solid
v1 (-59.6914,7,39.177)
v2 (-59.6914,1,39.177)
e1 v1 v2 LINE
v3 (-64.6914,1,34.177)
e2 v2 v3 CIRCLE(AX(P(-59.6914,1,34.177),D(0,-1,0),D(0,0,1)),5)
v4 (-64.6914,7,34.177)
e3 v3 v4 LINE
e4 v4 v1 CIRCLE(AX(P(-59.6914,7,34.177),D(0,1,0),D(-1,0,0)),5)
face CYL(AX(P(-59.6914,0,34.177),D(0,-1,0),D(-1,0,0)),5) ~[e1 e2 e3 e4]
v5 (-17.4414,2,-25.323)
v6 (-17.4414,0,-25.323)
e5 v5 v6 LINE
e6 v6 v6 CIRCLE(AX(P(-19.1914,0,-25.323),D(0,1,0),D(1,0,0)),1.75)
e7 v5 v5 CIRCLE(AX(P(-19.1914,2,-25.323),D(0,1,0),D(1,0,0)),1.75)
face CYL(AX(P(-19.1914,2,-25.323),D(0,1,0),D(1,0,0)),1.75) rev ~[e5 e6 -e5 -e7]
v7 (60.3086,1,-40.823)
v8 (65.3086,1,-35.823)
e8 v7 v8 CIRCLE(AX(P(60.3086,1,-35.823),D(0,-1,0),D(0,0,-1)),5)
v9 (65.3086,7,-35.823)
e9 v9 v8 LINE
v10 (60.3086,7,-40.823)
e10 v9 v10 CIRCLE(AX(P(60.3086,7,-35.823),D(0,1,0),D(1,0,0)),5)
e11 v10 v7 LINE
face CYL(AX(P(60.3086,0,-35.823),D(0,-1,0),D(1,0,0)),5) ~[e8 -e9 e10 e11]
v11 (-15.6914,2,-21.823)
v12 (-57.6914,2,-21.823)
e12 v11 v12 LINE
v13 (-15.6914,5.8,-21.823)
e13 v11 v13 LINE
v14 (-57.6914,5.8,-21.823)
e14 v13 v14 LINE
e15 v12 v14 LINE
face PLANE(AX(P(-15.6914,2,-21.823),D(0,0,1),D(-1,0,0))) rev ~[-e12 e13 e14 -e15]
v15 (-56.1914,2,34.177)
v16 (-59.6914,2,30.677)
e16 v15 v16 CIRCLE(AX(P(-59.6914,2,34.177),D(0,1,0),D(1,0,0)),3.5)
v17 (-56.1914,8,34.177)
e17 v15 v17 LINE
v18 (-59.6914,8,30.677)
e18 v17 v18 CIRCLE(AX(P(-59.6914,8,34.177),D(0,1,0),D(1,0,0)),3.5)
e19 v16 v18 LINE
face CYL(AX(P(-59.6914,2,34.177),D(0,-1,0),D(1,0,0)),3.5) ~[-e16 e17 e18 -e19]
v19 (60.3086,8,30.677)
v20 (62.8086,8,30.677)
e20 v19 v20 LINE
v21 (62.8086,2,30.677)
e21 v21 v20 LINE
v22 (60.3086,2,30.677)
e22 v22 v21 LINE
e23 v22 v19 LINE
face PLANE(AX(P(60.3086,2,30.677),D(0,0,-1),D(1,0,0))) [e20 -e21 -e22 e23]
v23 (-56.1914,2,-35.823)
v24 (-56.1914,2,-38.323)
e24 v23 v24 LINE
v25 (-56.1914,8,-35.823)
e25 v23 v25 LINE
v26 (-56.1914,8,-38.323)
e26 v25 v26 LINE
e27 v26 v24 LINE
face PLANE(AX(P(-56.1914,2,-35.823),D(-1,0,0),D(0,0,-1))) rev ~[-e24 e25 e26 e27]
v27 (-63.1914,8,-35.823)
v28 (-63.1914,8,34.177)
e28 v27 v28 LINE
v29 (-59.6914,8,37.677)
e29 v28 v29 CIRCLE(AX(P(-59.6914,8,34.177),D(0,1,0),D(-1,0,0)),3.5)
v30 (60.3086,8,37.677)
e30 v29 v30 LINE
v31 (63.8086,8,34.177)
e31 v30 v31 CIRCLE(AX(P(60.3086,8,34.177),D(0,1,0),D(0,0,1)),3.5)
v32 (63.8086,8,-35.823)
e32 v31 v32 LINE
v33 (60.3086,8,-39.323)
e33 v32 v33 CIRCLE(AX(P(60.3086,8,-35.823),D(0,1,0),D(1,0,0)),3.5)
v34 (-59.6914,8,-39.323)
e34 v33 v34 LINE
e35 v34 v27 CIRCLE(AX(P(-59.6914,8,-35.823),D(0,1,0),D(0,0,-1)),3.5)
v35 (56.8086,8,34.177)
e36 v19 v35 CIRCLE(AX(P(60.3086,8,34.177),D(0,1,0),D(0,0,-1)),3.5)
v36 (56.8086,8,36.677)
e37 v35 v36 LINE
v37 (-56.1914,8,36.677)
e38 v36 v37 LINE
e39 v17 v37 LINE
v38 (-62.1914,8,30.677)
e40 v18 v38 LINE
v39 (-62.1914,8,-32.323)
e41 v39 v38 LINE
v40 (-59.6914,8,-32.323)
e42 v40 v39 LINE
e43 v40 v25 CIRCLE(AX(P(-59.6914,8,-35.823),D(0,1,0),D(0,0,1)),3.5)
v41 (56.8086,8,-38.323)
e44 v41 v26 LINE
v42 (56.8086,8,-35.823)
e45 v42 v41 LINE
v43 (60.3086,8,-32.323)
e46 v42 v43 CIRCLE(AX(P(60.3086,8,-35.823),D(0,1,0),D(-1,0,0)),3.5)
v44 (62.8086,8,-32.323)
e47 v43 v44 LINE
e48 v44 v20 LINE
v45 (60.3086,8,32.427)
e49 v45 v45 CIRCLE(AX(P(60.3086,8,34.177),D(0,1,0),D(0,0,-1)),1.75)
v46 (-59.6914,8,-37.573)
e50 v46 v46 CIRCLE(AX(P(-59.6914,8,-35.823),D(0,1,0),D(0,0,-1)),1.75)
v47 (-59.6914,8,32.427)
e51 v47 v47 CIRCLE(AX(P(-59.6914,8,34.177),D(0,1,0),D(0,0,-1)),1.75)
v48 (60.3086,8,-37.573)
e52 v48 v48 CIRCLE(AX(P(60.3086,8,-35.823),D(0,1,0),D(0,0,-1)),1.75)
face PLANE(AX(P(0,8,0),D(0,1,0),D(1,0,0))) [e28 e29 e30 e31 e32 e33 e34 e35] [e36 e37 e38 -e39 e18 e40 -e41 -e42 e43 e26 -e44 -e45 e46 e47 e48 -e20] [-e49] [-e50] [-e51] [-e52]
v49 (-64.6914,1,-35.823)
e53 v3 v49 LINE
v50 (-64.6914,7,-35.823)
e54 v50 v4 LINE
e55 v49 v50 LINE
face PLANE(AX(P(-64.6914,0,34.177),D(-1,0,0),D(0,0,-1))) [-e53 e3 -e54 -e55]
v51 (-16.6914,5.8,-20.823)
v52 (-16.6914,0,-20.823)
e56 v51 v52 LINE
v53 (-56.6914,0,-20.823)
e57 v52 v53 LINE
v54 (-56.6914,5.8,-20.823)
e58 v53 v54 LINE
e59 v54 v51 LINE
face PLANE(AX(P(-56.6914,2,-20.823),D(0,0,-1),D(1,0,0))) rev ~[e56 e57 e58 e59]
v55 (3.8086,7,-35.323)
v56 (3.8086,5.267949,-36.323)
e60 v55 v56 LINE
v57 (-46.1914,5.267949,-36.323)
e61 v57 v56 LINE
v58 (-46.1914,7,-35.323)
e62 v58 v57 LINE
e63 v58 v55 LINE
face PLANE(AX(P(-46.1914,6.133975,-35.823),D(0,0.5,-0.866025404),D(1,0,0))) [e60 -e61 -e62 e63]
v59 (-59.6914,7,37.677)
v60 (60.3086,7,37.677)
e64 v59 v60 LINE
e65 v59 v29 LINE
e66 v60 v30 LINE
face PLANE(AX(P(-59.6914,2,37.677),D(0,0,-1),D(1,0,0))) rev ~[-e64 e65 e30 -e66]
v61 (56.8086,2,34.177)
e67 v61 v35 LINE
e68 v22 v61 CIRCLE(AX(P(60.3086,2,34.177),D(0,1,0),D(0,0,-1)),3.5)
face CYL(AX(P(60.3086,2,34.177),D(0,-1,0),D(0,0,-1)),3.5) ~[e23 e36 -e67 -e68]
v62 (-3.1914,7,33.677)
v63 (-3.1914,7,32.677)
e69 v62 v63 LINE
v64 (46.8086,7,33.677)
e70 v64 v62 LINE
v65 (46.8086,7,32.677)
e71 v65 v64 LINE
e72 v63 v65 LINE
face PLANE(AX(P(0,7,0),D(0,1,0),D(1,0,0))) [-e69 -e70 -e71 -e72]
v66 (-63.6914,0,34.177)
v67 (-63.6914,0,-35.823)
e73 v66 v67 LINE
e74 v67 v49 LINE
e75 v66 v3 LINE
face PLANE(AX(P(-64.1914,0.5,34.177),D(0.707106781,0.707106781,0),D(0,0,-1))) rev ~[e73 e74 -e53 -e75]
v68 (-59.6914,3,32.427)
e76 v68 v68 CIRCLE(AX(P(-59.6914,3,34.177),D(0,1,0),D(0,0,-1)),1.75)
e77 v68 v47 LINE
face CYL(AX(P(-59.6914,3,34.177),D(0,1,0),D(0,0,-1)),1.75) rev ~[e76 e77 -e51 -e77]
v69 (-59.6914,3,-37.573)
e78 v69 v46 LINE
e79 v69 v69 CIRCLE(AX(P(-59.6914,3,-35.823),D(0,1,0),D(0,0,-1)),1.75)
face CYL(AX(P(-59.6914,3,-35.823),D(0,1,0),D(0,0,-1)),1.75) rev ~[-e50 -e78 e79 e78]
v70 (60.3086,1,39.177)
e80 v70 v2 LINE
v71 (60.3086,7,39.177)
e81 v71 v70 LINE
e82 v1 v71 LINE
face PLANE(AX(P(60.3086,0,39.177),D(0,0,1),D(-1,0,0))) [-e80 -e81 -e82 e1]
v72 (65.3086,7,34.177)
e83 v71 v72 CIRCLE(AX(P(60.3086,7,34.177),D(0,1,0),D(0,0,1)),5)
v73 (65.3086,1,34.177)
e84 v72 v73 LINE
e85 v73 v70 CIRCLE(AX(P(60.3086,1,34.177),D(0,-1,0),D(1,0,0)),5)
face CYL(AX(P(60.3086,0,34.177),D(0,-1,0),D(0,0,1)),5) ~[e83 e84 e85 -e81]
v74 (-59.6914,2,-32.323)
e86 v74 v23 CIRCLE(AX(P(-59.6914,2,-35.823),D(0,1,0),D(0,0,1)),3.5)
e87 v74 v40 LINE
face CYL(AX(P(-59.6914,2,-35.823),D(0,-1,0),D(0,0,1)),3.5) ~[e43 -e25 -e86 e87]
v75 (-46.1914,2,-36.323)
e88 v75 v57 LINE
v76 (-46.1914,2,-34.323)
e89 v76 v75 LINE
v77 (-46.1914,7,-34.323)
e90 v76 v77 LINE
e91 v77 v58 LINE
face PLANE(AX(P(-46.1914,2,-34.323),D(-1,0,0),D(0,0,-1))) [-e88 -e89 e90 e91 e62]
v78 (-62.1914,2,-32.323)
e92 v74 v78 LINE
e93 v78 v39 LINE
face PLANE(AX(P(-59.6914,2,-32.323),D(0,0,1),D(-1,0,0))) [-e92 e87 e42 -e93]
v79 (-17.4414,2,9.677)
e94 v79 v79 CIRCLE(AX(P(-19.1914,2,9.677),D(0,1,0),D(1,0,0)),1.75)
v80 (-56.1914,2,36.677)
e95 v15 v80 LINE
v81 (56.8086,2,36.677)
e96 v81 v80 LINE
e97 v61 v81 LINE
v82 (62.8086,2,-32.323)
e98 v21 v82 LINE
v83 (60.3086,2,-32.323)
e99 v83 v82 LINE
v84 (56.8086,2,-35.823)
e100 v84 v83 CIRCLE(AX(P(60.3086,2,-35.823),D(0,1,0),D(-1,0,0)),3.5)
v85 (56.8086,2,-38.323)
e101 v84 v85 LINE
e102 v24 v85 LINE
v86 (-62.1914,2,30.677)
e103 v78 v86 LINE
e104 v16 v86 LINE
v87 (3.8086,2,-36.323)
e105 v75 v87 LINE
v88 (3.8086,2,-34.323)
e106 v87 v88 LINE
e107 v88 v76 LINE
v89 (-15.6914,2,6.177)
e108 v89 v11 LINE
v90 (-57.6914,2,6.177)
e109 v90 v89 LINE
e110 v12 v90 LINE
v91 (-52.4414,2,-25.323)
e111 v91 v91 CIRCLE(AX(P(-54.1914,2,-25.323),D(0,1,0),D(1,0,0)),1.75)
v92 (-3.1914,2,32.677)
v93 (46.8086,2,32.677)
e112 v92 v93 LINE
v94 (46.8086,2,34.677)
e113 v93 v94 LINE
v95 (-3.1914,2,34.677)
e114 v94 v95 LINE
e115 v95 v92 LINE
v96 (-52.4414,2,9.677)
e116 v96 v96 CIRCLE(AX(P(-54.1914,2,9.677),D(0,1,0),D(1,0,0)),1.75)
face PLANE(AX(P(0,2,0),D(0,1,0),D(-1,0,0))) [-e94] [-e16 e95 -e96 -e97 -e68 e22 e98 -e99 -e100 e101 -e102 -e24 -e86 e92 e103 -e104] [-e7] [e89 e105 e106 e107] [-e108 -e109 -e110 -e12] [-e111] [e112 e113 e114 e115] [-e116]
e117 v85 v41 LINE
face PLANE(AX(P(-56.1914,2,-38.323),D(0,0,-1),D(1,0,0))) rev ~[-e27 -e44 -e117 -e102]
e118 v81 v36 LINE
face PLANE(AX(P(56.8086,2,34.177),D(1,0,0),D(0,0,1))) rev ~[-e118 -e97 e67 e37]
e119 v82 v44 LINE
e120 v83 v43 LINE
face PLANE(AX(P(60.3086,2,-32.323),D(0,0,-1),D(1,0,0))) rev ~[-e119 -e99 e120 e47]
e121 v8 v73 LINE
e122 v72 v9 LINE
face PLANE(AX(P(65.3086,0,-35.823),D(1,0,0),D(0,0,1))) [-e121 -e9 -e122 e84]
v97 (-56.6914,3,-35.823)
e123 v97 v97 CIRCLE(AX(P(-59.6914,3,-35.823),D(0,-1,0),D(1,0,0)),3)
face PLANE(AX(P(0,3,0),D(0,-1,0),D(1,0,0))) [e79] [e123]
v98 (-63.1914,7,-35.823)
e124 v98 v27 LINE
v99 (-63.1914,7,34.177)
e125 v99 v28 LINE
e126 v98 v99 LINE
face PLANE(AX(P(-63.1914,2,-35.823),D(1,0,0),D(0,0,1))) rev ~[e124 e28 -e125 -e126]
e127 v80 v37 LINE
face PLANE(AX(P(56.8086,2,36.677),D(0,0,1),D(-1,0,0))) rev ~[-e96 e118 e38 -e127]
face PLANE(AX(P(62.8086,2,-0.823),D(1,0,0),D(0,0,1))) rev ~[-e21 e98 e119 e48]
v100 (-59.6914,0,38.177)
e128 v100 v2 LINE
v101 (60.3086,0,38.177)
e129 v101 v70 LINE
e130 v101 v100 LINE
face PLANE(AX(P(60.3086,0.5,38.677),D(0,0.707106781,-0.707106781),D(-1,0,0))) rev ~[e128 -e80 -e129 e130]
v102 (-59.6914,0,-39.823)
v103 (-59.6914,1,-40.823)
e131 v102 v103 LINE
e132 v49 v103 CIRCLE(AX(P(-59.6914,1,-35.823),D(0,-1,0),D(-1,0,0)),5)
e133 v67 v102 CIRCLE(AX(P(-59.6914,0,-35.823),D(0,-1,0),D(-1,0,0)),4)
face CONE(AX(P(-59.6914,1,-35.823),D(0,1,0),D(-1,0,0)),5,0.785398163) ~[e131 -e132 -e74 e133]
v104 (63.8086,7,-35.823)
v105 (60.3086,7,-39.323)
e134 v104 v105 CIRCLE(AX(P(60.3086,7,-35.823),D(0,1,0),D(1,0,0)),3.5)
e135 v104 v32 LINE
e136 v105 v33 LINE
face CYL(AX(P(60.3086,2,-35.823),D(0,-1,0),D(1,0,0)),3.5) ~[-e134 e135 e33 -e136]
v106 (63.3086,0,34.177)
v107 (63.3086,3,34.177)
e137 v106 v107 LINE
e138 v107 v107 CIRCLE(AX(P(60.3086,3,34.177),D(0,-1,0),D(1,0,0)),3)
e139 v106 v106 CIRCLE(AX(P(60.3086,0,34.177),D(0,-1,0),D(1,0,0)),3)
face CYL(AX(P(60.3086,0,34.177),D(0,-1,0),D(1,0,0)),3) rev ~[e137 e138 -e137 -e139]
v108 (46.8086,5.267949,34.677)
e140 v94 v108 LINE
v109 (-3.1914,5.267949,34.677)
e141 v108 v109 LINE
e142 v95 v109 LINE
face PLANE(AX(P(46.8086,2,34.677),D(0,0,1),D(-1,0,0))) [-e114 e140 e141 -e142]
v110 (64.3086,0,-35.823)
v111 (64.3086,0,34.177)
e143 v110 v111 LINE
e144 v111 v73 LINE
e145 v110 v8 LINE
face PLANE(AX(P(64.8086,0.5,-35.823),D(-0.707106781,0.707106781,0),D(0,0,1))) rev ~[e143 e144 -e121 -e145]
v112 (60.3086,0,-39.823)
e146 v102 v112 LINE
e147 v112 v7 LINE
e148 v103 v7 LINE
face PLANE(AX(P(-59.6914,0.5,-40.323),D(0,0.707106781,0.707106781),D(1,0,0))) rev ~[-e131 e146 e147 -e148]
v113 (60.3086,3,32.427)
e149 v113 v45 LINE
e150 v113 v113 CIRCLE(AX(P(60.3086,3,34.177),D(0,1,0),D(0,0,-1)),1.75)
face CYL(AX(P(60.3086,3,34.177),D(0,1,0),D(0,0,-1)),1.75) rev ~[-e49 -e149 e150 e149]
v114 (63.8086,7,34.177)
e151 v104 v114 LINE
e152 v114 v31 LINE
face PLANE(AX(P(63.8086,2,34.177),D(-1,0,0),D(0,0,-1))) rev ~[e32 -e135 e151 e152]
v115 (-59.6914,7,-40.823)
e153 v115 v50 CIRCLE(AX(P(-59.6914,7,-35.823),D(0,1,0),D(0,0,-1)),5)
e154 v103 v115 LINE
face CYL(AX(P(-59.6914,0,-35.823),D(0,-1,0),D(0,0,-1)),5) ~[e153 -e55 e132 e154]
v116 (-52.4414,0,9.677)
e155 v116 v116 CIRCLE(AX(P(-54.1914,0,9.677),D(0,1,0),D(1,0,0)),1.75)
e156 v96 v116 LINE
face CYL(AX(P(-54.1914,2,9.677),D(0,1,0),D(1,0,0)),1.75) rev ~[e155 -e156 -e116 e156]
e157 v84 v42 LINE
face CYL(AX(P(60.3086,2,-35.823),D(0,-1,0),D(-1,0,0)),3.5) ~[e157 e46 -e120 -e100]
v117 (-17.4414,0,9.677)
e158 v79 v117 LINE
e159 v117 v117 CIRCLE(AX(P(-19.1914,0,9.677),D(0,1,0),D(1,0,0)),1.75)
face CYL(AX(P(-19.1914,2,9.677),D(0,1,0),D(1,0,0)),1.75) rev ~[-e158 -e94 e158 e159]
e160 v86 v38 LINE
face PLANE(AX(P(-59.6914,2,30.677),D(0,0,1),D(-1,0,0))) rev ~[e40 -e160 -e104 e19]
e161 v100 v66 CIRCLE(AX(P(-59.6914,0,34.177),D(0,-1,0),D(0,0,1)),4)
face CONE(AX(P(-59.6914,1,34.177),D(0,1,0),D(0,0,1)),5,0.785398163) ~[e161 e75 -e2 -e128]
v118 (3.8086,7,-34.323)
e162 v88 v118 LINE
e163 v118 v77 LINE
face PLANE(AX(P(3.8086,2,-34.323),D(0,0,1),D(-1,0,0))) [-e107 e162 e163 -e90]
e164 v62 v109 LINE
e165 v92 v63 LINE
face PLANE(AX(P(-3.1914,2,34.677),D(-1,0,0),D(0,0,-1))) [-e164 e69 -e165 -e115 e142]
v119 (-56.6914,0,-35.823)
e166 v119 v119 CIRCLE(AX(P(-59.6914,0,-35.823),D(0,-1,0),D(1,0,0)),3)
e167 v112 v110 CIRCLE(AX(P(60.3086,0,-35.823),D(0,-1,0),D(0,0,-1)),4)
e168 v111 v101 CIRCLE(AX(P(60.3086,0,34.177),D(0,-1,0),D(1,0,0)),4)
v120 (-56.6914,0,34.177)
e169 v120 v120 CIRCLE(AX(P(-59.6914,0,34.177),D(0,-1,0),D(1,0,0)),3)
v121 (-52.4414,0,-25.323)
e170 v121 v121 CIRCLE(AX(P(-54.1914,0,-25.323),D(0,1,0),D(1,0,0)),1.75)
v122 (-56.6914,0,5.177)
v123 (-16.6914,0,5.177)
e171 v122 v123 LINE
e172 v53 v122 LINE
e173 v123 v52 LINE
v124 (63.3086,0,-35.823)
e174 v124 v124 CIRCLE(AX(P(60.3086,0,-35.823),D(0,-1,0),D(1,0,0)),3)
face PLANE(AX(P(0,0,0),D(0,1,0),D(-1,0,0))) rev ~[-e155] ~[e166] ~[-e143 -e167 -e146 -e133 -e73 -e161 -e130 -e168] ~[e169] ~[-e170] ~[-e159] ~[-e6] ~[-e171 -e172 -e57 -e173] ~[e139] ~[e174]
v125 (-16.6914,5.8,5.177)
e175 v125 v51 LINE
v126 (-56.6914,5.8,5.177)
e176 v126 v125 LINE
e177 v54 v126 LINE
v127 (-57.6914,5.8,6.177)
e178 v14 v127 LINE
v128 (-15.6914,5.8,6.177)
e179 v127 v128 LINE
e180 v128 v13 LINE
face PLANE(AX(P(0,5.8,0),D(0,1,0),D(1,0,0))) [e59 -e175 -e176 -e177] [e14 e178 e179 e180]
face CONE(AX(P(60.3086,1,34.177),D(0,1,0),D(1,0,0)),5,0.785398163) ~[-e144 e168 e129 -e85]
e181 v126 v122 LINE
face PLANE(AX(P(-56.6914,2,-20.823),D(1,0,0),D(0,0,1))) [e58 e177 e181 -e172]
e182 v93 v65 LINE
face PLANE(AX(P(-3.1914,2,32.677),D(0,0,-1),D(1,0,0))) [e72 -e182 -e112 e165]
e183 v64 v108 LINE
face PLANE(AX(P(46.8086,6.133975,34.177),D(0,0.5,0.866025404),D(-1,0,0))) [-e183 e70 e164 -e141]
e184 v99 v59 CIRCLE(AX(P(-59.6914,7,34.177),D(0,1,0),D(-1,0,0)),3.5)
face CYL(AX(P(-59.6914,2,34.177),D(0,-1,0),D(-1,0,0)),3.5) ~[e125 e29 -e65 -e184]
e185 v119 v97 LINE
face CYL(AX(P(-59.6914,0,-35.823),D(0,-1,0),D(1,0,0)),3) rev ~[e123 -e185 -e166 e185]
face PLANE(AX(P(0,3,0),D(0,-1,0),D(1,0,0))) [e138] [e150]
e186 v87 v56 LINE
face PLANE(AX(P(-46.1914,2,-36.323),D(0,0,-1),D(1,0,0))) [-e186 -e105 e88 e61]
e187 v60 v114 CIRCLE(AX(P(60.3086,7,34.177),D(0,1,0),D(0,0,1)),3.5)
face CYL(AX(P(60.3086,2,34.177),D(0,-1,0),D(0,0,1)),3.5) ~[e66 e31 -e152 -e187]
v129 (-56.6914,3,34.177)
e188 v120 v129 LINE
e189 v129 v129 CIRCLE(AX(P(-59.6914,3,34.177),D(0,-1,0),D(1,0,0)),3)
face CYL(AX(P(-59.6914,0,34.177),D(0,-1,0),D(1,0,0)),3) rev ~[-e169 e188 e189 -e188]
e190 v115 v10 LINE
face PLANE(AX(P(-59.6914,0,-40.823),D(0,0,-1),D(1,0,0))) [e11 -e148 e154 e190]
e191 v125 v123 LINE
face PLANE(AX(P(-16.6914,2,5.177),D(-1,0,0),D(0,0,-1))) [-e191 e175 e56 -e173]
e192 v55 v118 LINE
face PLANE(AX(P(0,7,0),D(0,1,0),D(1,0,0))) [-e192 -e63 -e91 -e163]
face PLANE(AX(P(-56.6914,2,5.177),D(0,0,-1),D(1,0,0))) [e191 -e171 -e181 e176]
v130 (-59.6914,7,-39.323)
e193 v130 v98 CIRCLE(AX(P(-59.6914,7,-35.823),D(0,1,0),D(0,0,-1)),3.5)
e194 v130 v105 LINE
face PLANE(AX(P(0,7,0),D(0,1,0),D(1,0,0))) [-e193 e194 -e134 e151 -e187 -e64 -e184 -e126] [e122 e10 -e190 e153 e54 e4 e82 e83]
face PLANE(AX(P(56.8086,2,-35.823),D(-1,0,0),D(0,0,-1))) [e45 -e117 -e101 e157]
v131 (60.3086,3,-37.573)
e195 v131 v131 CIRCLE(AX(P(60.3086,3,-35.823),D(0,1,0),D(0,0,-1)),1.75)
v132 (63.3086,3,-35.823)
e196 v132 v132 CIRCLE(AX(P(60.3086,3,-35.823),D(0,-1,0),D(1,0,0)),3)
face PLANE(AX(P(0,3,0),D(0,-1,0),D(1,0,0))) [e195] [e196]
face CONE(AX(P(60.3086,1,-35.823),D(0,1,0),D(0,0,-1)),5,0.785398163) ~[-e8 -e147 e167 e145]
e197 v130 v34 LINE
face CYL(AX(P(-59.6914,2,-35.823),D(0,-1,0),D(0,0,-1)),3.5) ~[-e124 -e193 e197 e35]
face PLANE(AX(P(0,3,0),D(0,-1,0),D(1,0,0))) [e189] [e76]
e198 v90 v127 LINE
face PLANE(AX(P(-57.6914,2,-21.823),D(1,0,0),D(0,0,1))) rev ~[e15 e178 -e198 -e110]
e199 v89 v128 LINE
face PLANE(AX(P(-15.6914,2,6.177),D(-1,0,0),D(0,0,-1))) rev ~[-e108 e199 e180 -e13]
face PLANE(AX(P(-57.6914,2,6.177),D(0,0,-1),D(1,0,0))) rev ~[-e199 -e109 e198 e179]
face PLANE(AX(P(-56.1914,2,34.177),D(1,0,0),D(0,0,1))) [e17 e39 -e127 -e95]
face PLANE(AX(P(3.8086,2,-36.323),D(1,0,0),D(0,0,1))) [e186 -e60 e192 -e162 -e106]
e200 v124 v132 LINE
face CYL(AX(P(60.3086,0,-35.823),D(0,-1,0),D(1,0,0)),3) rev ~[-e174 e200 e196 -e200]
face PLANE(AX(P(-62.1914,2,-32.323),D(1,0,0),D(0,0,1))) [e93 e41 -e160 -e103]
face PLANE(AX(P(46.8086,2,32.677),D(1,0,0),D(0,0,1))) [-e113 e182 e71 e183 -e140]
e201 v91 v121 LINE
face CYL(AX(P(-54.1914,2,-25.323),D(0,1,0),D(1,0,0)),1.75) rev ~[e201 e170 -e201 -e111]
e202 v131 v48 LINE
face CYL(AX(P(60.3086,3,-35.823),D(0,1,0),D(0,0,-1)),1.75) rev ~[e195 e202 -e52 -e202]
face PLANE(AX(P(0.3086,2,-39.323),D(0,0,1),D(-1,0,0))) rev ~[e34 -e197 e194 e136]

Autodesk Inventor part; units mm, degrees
ref_plane "YZ Plane" through (0, 0, 0) normal (1, 0, 0) x (0, 1, 0)
ref_plane "XZ Plane" through (0, 0, 0) normal (0, 1, 0) x (-1, 0, 0)
ref_plane "XY Plane" through (0, 0, 0) normal (0, 0, 1) x (1, 0, 0)
sketch "Sketch1" plane through (0, 0, 0) normal (0, 1, 0) x (-1, 0, 0)
  line L0 (59.6914, -40.823) -> (-60.3086, -40.823)
  line L1 (-65.3086, -35.823) -> (-65.3086, 34.177)
  line L2 (-60.3086, 39.177) -> (59.6914, 39.177)
  line L3 (64.6914, 34.177) -> (64.6914, -35.823)
  arc A0 (59.6914, -40.823) -> (64.6914, -35.823) centre (59.6914, -35.823) ccw
  arc A1 (-65.3086, -35.823) -> (-60.3086, -40.823) centre (-60.3086, -35.823) ccw
  arc A2 (64.6914, 34.177) -> (59.6914, 39.177) centre (59.6914, 34.177) ccw
  arc A3 (-60.3086, 39.177) -> (-65.3086, 34.177) centre (-60.3086, 34.177) ccw
  point P0 (0, 0)
  point P1 (64.6914, -40.823)
  point P2 (-65.3086, 39.177)
  point P3 (64.6914, 39.177)
  dimension "d0" = 80
  dimension "d1" = 130
  dimension "d2" = 5
  dimension "d3" = 5
  dimension "d4" = 5
  dimension "d5" = 5
extrude "Extrusion1" add sketch "Sketch1" along normal blind 2
sketch "Sketch2" plane through (0, 2, 0) normal (0, 1, 0) x (1, 0, 0)
  line L0 (-64.6914, 35.823) -> (-64.6914, -34.177) projected
  line L1 (-64.6914, 35.823) -> (-64.6914, -34.177)
  arc A0 (-64.6914, -34.177) -> (-59.6914, -39.177) centre (-59.6914, -34.177) ccw projected
  arc A1 (-64.6914, -34.177) -> (-59.6914, -39.177) centre (-59.6914, -34.177) ccw
  arc A2 (-59.6914, 40.823) -> (-64.6914, 35.823) centre (-59.6914, 35.823) ccw
  arc A3 (65.3086, 35.823) -> (60.3086, 40.823) centre (60.3086, 35.823) ccw projected
  arc A4 (65.3086, 35.823) -> (60.3086, 40.823) centre (60.3086, 35.823) ccw
  line L2 (-62.1914, 35.823) -> (-62.1914, -34.177)
  line L3 (65.3086, -34.177) -> (65.3086, 35.823) projected
  line L4 (65.3086, 35.823) -> (65.3086, -34.177)
  arc A5 (60.3086, -39.177) -> (65.3086, -34.177) centre (60.3086, -34.177) ccw projected
  line L5 (-59.6914, -39.177) -> (60.3086, -39.177) projected
  line L6 (60.3086, -39.177) -> (-59.6914, -39.177)
  line L7 (60.3086, 40.823) -> (-59.6914, 40.823) projected
  line L8 (-59.6914, 40.823) -> (60.3086, 40.823)
  line L9 (62.8086, 35.823) -> (62.8086, -34.177)
  line L10 (60.3086, -36.677) -> (-59.6914, -36.677)
  line L11 (-59.6914, 38.323) -> (60.3086, 38.323)
  arc A6 (-59.6914, 38.323) -> (-62.1914, 35.823) centre (-59.6914, 35.823) ccw
  arc A7 (62.8086, 35.823) -> (60.3086, 38.323) centre (60.3086, 35.823) ccw
  arc A8 (60.3086, -36.677) -> (62.8086, -34.177) centre (60.3086, -34.177) ccw
  arc A9 (-62.1914, -34.177) -> (-59.6914, -36.677) centre (-59.6914, -34.177) ccw
  arc A10 (-59.6914, 39.323) -> (-63.1914, 35.823) centre (-59.6914, 35.823) ccw
  arc A11 (63.8086, 35.823) -> (60.3086, 39.323) centre (60.3086, 35.823) ccw
  arc A12 (60.3086, -37.677) -> (63.8086, -34.177) centre (60.3086, -34.177) ccw
  arc A13 (-63.1914, -34.177) -> (-59.6914, -37.677) centre (-59.6914, -34.177) ccw
  line L12 (-63.1914, 35.823) -> (-63.1914, -34.177)
  line L13 (-59.6914, -37.677) -> (60.3086, -37.677)
  line L14 (63.8086, -34.177) -> (63.8086, 35.823)
  line L15 (60.3086, 39.323) -> (-59.6914, 39.323)
  line L16 (-59.6914, 32.323) -> (-62.1914, 32.323)
  line L17 (-56.1914, 35.823) -> (-56.1914, 38.323)
  arc A14 (-59.6914, 32.323) -> (-56.1914, 35.823) centre (-59.6914, 35.823) ccw
  line L18 (0.3086, 40.823) -> (0.3086, 33.323)
  line L19 (65.3086, 0.823) -> (44.6486, 0.823)
  line L20 (60.3086, 32.323) -> (62.8086, 32.323)
  line L21 (56.8086, 35.823) -> (56.8086, 38.323)
  arc A15 (56.8086, 35.823) -> (60.3086, 32.323) centre (60.3086, 35.823) ccw
  line L22 (-59.6914, -30.677) -> (-62.1914, -30.677)
  line L23 (-56.1914, -34.177) -> (-56.1914, -36.677)
  arc A16 (-56.1914, -34.177) -> (-59.6914, -30.677) centre (-59.6914, -34.177) ccw
  line L24 (56.8086, -34.177) -> (56.8086, -36.677)
  arc A17 (60.3086, -30.677) -> (56.8086, -34.177) centre (60.3086, -34.177) ccw
  line L25 (60.3086, -30.677) -> (62.8086, -30.677)
  point P0 (0, 0)
  point P1 (60.3086, -34.2192)
  point P2 (65.3086, -34.2192)
  point P3 (59.6599, -39.177)
  point P4 (56.8086, 38.323)
  point P5 (62.8086, -30.677)
  point P6 (56.8086, -36.677)
  point P7 (-56.1914, -36.677)
  point P8 (-62.1914, -30.677)
  dimension "d51" = 5
  dimension "d8" = 2.5
  dimension "d9" = 2.5
  dimension "d10" = 2.5
  dimension "d11" = 2.5
  dimension "d12" = 7
  dimension "d13" = 7
  dimension "d14" = 7
  dimension "d15" = 7
  dimension "d34" = 3.5
  dimension "d50" = 2.5
  dimension "d52" = 5
  dimension "d53" = 2.5
extrude "Extrusion2" add sketch "Sketch2" along normal blind 5 contours A2 L7 L18 L15 A10 L12 A13 L13 A12 L14 L19 L3 A5 L5 A0 L0 | L7 A3 L3 L19 L14 A11 L15 L18 | L17 A14 L16 L2 A6 L11 | L11 A7 L9 L20 A15 L21 | L9 A8 L10 L24 A17 L25 | L22 A16 L23 L10 A9 L2
extrude "Extrusion3" add sketch "Sketch2" along normal blind 6 contours L18 L11 A6 L2 A9 L10 A8 L9 L19 L14 A12 L13 A13 L12 A10 L15 | L15 A11 L14 L19 L9 A7 L11 L18 | L17 A14 L16 L2 A6 L11 | L11 A7 L9 L20 A15 L21 | L9 A8 L10 L24 A17 L25 | L22 A16 L23 L10 A9 L2
sketch "Sketch3" plane through (0, 0, 0) normal (0, -1, 0) x (1, 0, 0)
  circle A0 centre (60.3086, 34.177) radius 3
  line L0 (-59.6914, 39.177) -> (60.3086, 39.177) projected
  line L1 (65.3086, 34.177) -> (65.3086, -35.823) projected
  line L2 (65.3086, 24.0261) -> (65.3086, 17.2129)
  line L3 (38.477, 39.177) -> (29.3328, 39.177)
  line L4 (-59.6914, 39.177) -> (60.3086, 39.177) projected
  circle A1 centre (60.3086, -35.823) radius 3
  circle A2 centre (-59.6914, 34.177) radius 3
  circle A3 centre (-59.6914, -35.823) radius 3
  line L5 (-64.6914, -35.823) -> (-64.6914, 34.177) projected
  line L6 (60.3086, -40.823) -> (-59.6914, -40.823) projected
  point P0 (0, 0)
  point P1 (33.602, 39.1426)
  point P2 (55.3086, 34.177)
  point P3 (65.3086, -35.823)
  dimension "d20" = 6
  dimension "d21" = 5
  dimension "d26" = 70
  dimension "d29" = 120
  dimension "d54" = 130
  dimension "d55" = 80
  dimension "d56" = 5
extrude "Extrusion4" cut sketch "Sketch3" against normal blind 3
sketch "Sketch4" plane through (60.3086, 3, -35.823) normal (0, -1, 0) x (1, 0, 0)
  circle A0 centre (0, 0) radius 3 projected
  point P0 (-60.3086, 35.823)
hole "Hole1" at (60.3086, 3, -35.823) direction (0, 1, 0) diameter 3.5 end through all
pattern_linear "Rectangular Pattern1" count 2 spacing 120 along (-1, 0, 0) count 2 spacing 70 along (0, 0, 1) of "Hole1"
chamfer "Chamfer1" distance 1 angle 45 8 edges at (0.3086, 0, 39.177) (63.8442, 0, 37.7125) (65.3086, 0, -0.823) (63.8442, 0, -39.3586) (0.3086, 0, -40.823) (-63.2269, 0, -39.3586) (-64.6914, 0, -0.823) (-63.2269, 0, 37.7125)
sketch "Sketch9" plane through (0, 0, 0) normal (0, -1, 0) x (1, 0, 0)
  line L0 (-8.8254, 34.5739) -> (9.2353, 34.5739) construction
  line L1 (9.2353, 34.5739) -> (9.2353, 29.7737) construction
  line L2 (9.2353, 29.7737) -> (-8.8254, 29.7737) construction
  line L3 (-8.8254, 29.7737) -> (-8.8254, 34.5739) construction
  point P0 (0, 0)
sketch "Sketch10" plane through (0, 2, 0) normal (0, 1, 0) x (1, 0, 0)
  line L0 (46.8086, -34.677) -> (-3.1914, -34.677)
  line L1 (-3.1914, -34.677) -> (-3.1914, -32.677)
  line L2 (-3.1914, -32.677) -> (46.8086, -32.677)
  line L3 (46.8086, -32.677) -> (46.8086, -34.677)
  line L4 (56.8086, -34.177) -> (56.8086, -36.677) projected
  line L5 (56.8086, -36.677) -> (-56.1914, -36.677) projected
  line L6 (-46.1914, 36.323) -> (3.8086, 36.323)
  line L7 (3.8086, 36.323) -> (3.8086, 34.323)
  line L8 (3.8086, 34.323) -> (-46.1914, 34.323)
  line L9 (-46.1914, 34.323) -> (-46.1914, 36.323)
  line L10 (-56.1914, 38.323) -> (56.8086, 38.323) projected
  line L11 (-56.1914, 35.823) -> (-56.1914, 38.323) projected
  point P0 (0, 0)
  point P1 (56.8086, -35.427)
  point P2 (46.8086, -33.677)
  point P3 (-3.1914, -36.677)
  point P4 (-46.1914, 35.323)
  point P5 (-56.1914, 37.073)
  dimension "d97" = 50
  dimension "d98" = 2
  dimension "d99" = 10
  dimension "d100" = 2
  dimension "d110" = 50
  dimension "d111" = 2
  dimension "d112" = 2
  dimension "d113" = 10
extrude "Extrusion7" add sketch "Sketch10" along normal blind 5
chamfer "Chamfer2" distance 1 angle 60 1 edges at (21.8086, 7, 34.677) measured on face at (13.4753, 7, 33.3436)
chamfer "Chamfer4" distance 1 angle 60 1 edges at (-21.1914, 7, -36.323) measured on face at (-29.5247, 7, -35.6564)
sketch "Sketch11" plane through (0, 0, 0) normal (0, -1, 0) x (1, 0, 0)
  line L0 (-56.6914, 5.177) -> (-16.6914, 5.177)
  line L1 (-16.6914, 5.177) -> (-16.6914, -20.823)
  line L2 (-16.6914, -20.823) -> (-56.6914, -20.823)
  line L3 (-56.6914, -20.823) -> (-56.6914, 5.177)
  line L4 (-64.6914, 34.177) -> (-64.6914, -35.823) projected
  line L5 (-59.6914, -40.823) -> (60.3086, -40.823) projected
  point P0 (0, 0)
  dimension "d117" = 40
  dimension "d118" = 26
  dimension "d119" = 8
  dimension "d120" = 20
extrude "Extrusion8" cut sketch "Sketch11" against normal blind 10
sketch "Sketch12" plane through (0, 2, 0) normal (0, 1, 0) x (1, 0, 0)
  line L0 (-57.6914, 28.823) -> (-15.6914, 28.823)
  line L1 (-15.6914, 28.823) -> (-15.6914, -13.177)
  line L2 (-15.6914, -13.177) -> (-57.6914, -13.177)
  line L3 (-57.6914, -13.177) -> (-57.6914, 28.823)
  line L4 (-16.6914, -5.177) -> (-56.6914, -5.177) projected
  line L5 (-16.6914, 20.823) -> (-16.6914, -5.177) projected
  circle A0 centre (-54.1914, 25.323) radius 1.75
  circle A1 centre (-19.1914, 25.323) radius 1.75
  circle A2 centre (-54.1914, -9.677) radius 1.75
  circle A3 centre (-19.1914, -9.677) radius 1.75
  point P0 (0, 0)
  dimension "d127" = 42
  dimension "d128" = 42
  dimension "d129" = 8
  dimension "d130" = 1
  dimension "d131" = 3.5
  dimension "d132" = 3.5
  dimension "d133" = 3.5
  dimension "d136" = 35
  dimension "d139" = 35
extrude "Extrusion9" cut sketch "Sketch12" against normal blind 10 contours A0 | A1 | A2 | A3
sketch "Sketch13" plane through (0, 2, 0) normal (0, 1, 0) x (1, 0, 0)
  line L0 (-57.6914, -6.177) -> (-15.6914, -6.177)
  line L1 (-15.6914, -6.177) -> (-15.6914, 21.823)
  line L2 (-15.6914, 21.823) -> (-57.6914, 21.823)
  line L3 (-57.6914, 21.823) -> (-57.6914, -6.177)
  line L4 (-56.6914, 20.823) -> (-16.6914, 20.823) projected
  line L5 (-56.6914, -5.177) -> (-16.6914, -5.177)
  line L6 (-16.6914, -5.177) -> (-16.6914, 20.823)
  line L7 (-16.6914, 20.823) -> (-56.6914, 20.823)
  line L8 (-56.6914, 20.823) -> (-56.6914, -5.177)
  point P0 (0, 0)
  dimension "d144" = 1
  dimension "d145" = 1
  dimension "d146" = 1
  dimension "d147" = 1
extrude "Extrusion10" add sketch "Sketch13" along normal blind 3.8
equation "\"d3\" = d2"
equation "\"d4\" = d2"
equation "\"d5\" = d2"
equation "\"d9\" = d8"
equation "\"d10\" = d8"
equation "\"d11\" = d8"
equation "\"d52\" = d51"
equation "\"d53\" = d50"
properties part number "housing_top"
